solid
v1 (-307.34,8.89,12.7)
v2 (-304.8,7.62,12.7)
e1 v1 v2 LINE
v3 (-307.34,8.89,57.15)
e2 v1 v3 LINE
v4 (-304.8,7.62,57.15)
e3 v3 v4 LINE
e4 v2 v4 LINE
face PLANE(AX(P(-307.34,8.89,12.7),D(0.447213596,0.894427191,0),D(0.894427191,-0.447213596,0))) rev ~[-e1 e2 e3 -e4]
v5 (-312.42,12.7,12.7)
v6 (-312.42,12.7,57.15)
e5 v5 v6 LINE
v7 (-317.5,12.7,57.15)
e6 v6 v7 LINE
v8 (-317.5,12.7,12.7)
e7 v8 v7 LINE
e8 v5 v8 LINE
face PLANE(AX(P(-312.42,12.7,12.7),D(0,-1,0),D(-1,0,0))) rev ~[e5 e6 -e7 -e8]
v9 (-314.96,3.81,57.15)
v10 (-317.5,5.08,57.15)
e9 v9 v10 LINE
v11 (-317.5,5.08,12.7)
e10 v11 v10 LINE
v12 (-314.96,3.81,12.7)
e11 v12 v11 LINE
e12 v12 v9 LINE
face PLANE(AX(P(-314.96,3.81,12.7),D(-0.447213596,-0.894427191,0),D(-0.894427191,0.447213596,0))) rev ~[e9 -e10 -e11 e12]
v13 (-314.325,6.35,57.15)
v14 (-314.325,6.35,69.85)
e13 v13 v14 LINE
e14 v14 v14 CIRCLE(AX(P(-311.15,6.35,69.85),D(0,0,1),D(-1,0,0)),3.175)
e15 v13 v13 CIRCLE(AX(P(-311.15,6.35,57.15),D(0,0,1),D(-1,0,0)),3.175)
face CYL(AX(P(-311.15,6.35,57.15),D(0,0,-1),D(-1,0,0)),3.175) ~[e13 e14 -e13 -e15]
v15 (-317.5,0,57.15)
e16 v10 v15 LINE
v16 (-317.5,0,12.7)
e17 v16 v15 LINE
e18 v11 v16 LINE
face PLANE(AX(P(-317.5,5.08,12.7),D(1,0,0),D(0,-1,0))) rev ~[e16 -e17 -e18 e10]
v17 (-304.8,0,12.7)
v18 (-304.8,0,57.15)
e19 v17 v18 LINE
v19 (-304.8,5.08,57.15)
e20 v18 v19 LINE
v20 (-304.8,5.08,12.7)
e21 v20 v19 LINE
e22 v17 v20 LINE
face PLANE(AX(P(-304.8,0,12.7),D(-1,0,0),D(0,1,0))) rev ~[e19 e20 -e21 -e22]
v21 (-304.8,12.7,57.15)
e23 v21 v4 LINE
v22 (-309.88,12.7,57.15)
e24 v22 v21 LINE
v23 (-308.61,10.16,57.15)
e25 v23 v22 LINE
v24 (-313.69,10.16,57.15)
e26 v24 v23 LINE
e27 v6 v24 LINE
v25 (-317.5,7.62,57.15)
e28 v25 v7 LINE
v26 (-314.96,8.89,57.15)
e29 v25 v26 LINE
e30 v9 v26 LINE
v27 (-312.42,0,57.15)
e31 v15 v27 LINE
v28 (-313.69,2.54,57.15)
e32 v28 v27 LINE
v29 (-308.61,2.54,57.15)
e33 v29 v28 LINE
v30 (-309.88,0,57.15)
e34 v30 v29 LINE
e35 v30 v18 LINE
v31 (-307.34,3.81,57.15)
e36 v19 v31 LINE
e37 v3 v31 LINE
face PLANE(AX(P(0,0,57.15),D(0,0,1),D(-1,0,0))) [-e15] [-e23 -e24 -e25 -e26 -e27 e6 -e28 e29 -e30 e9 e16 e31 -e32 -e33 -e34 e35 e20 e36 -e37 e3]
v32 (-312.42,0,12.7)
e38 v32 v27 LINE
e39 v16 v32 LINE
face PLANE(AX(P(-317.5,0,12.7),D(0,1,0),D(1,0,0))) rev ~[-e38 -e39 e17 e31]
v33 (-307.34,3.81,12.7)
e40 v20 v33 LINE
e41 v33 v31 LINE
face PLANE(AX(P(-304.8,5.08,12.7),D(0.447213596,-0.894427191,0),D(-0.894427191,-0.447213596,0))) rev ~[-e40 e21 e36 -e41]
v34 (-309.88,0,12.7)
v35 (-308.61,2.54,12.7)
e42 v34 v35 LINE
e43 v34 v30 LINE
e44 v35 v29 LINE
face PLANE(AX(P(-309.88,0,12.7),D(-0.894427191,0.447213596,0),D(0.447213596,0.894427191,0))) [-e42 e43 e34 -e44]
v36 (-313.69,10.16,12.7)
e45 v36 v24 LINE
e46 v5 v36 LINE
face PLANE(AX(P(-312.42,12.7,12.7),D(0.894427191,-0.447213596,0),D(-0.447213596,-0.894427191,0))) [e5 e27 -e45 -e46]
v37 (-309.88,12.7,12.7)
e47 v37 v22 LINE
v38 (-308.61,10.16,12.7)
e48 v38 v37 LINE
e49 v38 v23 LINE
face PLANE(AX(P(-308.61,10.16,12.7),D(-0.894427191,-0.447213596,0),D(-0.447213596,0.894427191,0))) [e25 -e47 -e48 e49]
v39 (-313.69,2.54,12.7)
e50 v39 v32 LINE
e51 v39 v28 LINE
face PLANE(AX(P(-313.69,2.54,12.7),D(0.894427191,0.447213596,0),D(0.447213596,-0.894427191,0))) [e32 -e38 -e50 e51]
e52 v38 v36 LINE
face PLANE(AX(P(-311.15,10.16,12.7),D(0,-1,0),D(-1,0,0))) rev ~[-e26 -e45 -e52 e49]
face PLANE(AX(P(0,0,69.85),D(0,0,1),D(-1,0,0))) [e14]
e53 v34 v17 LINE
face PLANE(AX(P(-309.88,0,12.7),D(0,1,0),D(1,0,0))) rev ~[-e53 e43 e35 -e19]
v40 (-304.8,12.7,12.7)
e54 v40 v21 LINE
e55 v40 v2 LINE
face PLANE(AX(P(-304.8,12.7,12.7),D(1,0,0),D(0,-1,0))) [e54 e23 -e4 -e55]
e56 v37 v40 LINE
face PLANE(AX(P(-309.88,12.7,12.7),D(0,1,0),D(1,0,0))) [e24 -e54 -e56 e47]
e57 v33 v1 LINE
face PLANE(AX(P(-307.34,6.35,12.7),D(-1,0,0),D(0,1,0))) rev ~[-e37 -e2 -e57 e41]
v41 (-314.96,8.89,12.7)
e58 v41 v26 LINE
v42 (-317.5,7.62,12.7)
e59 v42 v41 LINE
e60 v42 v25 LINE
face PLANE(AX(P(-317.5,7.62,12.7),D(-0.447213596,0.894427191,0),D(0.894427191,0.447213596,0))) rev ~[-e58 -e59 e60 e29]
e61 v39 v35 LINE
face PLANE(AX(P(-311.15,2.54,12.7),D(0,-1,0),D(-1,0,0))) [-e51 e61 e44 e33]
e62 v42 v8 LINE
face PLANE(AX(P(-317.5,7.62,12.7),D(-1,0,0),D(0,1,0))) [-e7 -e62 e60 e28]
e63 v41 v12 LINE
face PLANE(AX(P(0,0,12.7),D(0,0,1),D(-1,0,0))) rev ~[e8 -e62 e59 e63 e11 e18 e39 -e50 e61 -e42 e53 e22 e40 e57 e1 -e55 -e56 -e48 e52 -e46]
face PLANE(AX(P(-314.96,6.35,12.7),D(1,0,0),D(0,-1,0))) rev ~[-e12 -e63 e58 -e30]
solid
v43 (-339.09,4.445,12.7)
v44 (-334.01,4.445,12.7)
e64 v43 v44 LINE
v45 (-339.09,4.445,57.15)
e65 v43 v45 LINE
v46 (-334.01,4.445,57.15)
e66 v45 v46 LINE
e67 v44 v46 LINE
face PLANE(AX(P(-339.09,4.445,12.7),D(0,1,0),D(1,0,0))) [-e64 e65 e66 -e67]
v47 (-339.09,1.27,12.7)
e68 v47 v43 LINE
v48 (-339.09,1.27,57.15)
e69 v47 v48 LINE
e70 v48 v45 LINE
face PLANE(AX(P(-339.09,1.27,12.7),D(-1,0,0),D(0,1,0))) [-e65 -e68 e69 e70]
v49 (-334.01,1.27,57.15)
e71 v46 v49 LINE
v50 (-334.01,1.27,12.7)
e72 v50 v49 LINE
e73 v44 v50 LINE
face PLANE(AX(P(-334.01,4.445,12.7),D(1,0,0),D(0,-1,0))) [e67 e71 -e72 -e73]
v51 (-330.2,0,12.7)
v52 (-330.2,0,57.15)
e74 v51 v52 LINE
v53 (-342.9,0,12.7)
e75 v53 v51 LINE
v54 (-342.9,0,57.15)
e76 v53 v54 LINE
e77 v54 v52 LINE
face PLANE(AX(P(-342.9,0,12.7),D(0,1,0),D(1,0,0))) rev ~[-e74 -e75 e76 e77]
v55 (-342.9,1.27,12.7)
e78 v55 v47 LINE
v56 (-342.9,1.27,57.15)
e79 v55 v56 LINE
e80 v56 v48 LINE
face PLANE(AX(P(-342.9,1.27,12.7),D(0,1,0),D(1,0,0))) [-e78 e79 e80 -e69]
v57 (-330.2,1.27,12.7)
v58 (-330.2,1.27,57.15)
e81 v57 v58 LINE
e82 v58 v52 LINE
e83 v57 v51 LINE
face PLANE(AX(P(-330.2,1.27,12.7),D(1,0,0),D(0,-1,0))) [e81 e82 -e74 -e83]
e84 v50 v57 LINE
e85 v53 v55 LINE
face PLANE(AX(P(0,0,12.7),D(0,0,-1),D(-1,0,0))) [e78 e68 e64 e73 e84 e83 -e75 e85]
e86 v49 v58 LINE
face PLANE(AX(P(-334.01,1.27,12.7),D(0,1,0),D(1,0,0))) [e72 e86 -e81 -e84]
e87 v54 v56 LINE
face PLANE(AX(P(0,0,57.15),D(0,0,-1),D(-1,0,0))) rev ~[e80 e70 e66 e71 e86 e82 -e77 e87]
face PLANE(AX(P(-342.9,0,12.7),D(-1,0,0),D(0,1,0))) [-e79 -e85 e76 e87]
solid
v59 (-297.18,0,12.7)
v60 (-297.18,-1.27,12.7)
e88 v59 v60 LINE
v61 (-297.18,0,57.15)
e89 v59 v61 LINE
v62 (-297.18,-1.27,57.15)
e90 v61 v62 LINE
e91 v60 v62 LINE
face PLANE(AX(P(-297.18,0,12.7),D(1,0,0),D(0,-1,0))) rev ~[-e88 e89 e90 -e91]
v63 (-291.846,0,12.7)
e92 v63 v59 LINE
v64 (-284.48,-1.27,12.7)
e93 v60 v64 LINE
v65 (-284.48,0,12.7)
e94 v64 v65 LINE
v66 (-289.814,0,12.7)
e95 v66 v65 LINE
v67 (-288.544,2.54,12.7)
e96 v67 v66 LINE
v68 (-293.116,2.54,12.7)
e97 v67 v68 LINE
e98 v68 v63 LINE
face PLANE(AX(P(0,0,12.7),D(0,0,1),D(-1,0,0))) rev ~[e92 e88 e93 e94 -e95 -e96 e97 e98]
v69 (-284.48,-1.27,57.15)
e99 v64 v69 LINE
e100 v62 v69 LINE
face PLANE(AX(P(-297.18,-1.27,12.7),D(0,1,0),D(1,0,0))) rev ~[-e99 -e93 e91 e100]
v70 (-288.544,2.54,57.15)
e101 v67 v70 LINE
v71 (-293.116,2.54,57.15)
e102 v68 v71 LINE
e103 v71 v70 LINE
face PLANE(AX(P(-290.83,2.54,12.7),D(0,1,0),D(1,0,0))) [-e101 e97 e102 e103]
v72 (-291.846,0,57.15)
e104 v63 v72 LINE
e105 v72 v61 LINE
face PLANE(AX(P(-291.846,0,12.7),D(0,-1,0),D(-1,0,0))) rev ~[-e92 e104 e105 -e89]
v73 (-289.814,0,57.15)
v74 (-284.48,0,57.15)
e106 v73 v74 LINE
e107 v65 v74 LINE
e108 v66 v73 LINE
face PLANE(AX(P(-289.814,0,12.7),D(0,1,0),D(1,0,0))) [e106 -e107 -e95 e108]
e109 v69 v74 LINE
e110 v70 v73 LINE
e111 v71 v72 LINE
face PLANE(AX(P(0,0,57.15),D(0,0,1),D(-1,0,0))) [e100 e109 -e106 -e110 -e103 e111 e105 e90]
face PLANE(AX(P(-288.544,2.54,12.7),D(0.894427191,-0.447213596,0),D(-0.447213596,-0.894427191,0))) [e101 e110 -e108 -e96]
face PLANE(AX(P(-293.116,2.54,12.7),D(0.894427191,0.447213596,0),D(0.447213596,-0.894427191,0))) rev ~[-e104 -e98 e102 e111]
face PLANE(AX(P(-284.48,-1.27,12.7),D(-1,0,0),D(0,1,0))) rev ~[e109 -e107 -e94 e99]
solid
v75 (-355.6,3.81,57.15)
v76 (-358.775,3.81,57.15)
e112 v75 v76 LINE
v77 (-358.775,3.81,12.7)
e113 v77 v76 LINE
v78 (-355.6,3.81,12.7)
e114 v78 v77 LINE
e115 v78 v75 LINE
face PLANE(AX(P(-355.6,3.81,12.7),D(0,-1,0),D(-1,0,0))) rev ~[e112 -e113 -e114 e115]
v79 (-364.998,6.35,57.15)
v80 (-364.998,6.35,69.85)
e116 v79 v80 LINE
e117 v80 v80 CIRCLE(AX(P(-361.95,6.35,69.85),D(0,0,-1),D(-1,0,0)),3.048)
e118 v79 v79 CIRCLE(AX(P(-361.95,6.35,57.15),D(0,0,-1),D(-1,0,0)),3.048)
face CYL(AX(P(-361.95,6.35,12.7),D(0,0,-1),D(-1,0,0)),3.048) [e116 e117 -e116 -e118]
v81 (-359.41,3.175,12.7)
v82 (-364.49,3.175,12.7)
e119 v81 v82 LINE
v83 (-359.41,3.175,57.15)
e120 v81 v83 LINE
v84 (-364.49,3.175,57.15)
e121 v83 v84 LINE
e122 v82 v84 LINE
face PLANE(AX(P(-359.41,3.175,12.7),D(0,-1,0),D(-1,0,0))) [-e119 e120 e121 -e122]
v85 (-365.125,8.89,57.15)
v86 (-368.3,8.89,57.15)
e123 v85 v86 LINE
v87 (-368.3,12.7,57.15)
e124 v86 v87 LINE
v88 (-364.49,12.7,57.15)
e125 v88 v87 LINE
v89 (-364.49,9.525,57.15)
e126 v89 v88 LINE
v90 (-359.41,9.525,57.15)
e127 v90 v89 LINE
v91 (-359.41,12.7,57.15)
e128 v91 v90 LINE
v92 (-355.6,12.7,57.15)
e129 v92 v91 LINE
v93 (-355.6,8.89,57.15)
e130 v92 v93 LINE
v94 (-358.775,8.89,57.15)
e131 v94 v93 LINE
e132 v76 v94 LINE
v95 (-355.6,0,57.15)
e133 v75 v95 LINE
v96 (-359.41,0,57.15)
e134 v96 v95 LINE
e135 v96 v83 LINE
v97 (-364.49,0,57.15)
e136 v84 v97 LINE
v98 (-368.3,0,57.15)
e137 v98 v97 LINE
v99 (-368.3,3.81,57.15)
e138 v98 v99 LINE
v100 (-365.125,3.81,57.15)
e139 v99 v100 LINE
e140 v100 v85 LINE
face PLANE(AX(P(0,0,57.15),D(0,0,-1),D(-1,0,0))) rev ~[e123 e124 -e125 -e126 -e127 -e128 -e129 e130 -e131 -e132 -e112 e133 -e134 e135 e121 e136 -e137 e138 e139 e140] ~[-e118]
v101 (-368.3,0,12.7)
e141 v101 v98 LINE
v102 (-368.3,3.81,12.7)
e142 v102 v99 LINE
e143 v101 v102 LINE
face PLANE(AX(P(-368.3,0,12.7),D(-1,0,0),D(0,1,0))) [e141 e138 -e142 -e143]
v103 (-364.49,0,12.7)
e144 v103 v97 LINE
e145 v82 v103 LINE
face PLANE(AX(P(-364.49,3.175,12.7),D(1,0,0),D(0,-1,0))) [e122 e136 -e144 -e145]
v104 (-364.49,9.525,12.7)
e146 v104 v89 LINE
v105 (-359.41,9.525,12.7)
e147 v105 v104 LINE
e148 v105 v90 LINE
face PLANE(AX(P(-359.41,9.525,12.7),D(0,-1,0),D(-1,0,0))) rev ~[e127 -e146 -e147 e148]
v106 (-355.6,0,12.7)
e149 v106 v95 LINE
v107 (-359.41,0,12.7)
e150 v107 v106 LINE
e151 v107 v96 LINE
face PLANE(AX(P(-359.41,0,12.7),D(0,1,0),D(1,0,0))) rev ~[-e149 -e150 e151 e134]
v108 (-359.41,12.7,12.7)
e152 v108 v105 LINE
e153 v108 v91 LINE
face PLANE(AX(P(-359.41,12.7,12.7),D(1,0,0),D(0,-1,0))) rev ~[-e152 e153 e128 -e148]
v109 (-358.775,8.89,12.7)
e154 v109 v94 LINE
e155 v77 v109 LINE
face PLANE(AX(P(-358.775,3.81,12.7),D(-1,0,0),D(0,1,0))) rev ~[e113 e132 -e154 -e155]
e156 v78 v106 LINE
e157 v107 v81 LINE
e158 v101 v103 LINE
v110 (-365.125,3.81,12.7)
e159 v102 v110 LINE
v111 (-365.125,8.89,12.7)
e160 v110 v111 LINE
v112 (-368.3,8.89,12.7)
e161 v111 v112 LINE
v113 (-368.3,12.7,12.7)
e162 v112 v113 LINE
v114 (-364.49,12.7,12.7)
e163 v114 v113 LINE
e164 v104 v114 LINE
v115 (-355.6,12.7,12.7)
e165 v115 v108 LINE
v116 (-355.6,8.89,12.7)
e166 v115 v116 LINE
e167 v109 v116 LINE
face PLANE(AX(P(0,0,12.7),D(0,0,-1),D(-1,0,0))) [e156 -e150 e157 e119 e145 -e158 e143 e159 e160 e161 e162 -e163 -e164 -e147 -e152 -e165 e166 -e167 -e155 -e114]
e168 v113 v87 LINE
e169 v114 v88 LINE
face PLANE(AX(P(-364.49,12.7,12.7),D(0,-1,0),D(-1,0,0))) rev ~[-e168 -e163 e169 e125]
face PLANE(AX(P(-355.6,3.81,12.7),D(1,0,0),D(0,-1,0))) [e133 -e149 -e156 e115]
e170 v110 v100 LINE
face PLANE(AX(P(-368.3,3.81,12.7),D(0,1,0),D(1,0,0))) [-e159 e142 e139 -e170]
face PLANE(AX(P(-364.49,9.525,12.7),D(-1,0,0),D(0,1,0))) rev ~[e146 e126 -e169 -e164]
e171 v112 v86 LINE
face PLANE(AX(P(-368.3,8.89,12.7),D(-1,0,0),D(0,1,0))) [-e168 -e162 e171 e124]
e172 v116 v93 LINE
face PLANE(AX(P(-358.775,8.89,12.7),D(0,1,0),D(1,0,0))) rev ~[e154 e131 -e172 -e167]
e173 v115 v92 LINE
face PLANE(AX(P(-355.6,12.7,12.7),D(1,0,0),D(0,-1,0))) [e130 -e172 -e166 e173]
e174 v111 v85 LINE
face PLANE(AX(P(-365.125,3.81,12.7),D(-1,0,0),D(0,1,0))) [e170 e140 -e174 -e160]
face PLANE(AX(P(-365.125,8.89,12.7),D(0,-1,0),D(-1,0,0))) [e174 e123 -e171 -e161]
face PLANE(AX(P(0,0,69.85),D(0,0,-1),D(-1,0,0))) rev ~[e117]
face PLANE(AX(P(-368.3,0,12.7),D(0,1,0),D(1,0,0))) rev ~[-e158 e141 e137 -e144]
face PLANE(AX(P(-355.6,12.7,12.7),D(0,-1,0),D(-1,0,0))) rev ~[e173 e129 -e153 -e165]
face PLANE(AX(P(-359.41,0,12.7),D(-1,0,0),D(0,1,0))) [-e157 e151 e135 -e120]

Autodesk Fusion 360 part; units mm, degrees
sketch "Sketch1" plane through (0, 0, 0) normal (0, 0, 1) x (1, 0, 0)
  line L0 (0, 0) -> (1440, 0)
  line L1 (1440, 0) -> (1440, 1440)
  line L2 (1440, 1440) -> (0, 1440)
  line L3 (0, 1440) -> (0, 0)
  line L4 (720, 1620) -> (720, -180)
  line L5 (0, 0) -> (180, 0)
  line L6 (180, 0) -> (180, 180)
  line L7 (180, 180) -> (0, 180)
  line L8 (0, 180) -> (0, 0)
  line L9 (0, 0) -> (0, -100)
  line L10 (0, -100) -> (-100, -100)
  line L11 (1440, 1440) -> (1540, 1440)
  line L12 (1540, 1440) -> (1540, 1540)
  dimension "d1" = 1440
  dimension "d2" = 1440
  dimension "d7" = 180
  dimension "d8" = 180
  dimension "d9" = 100
  dimension "d10" = 100
  dimension "d11" = 100
  dimension "d12" = 100
extrude "Extrude1" add sketch "Sketch1" along normal blind 12.7 makes body 1
sketch "Sketch2" plane through (0, 0, 12.7) normal (0, 0, 1) x (-1, 0, 0)
  line L0 (0, -1440) -> (0, 0)
  line L1 (0, 0) -> (-1440, 0)
  line L2 (-1440, 0) -> (-1440, -1440)
  line L3 (-1440, -1440) -> (0, -1440)
  line L4 (0, 0) -> (-180, 0)
  line L5 (-180, 0) -> (-360, 0)
  line L6 (-360, 0) -> (-540, 0)
  line L7 (-540, 0) -> (-720, 0)
  line L8 (-720, 0) -> (-720, -1440)
  line L9 (-180, 0) -> (-180, -1440)
  line L10 (-360, 0) -> (-360, -1440)
  line L11 (-540, 0) -> (-540, -1440)
  dimension "d15" = 180
  dimension "d16" = 180
  dimension "d17" = 180
  dimension "d18" = 180
sketch "Sketch3" plane through (0, 0, 12.7) normal (0, 0, 1) x (-1, 0, 0)
sketch "Sketch4" plane through (0, 0, 12.7) normal (0, 0, 1) x (-1, 0, 0)
  line L0 (0, 0) -> (-1440, 0)
  line L1 (-1440, 0) -> (-1440, -1440)
  line L2 (-1440, -1440) -> (0, -1440)
  line L3 (0, -1440) -> (0, 0)
  line L4 (-720, 0) -> (-810, 0)
  line L5 (-810, 0) -> (-900, 0)
  line L6 (-900, 0) -> (-1080, 0)
  line L7 (-1080, 0) -> (-1260, 0)
  line L8 (0, 0) -> (0, -180)
  line L9 (0, -180) -> (0, -360)
  line L10 (0, -360) -> (0, -540)
  line L11 (0, -540) -> (0, -720)
  line L12 (0, -720) -> (0, -900)
  line L13 (0, -900) -> (0, -1080)
  line L14 (0, -1080) -> (0, -1260)
  line L15 (-1080, 0) -> (-1260, 0)
  line L16 (0, -180) -> (0, -360)
  line L17 (-720, 0) -> (-810, 0)
  line L18 (0, -1440) -> (0, 0)
  line L19 (0, -1080) -> (0, -1260)
  line L20 (-810, 0) -> (-900, 0)
  line L21 (0, -900) -> (0, -1080)
  line L22 (0, -540) -> (0, -720)
  line L23 (-900, 0) -> (-1080, 0)
  line L24 (0, 0) -> (-1440, 0)
  line L25 (0, 0) -> (0, -180)
  line L26 (-1440, -1440) -> (0, -1440)
  line L27 (0, -720) -> (0, -900)
  line L28 (-1440, 0) -> (-1440, -1440)
  line L29 (0, -360) -> (0, -540)
  line L30 (-1080, 0) -> (-1260, 0)
  line L31 (0, -180) -> (0, -360)
  line L32 (-720, 0) -> (-810, 0)
  line L33 (0, -1440) -> (0, 0)
  line L34 (0, -1080) -> (0, -1260)
  line L35 (-810, 0) -> (-900, 0)
  line L36 (0, -900) -> (0, -1080)
  line L37 (0, -540) -> (0, -720)
  line L38 (-900, 0) -> (-1080, 0)
  line L39 (0, 0) -> (-1440, 0)
  line L40 (0, 0) -> (0, -180)
  line L41 (-1440, -1440) -> (0, -1440)
  line L42 (0, -720) -> (0, -900)
  line L43 (-1440, 0) -> (-1440, -1440)
  line L44 (0, -360) -> (0, -540)
  line L45 (0, -1440) -> (-180, -1440)
  line L46 (-180, -1440) -> (-360, -1440)
  line L47 (-360, -1440) -> (-540, -1440)
  line L48 (-540, -1440) -> (-720, -1440)
  line L49 (90, -1530) -> (-1530, -1530)
  line L50 (-1530, -1530) -> (-1530, 90)
  line L51 (-1530, 90) -> (90, 90)
  line L52 (90, 90) -> (90, -1530)
  line L53 (-720, -1440) -> (-900, -1440)
  line L54 (-1440, -720) -> (-1440, -900)
  line L55 (0, -720) -> (0, -810)
  line L56 (90, 90) -> (-824.4, 90)
  line L57 (-824.4, 90) -> (-824.4, -1530)
  line L58 (-824.4, 90) -> (-1510.2, 90)
  line L59 (90, 90) -> (90, -824.4)
  line L60 (90, -824.4) -> (-1530, -824.4)
  line L61 (2170.8056, -49.2636) -> (951.6056, -49.2636)
  line L62 (951.6056, -49.2636) -> (951.6056, -2487.6636)
  line L63 (951.6056, -2487.6636) -> (2170.8056, -2487.6636)
  line L64 (2170.8056, -2487.6636) -> (2170.8056, -49.2636)
  line L65 (2170.8056, -49.2636) -> (1256.4056, -49.2636)
  line L66 (1256.4056, -49.2636) -> (1256.4056, -963.6636)
  line L67 (1256.4056, -963.6636) -> (2170.8056, -963.6636)
  line L68 (2170.8056, -963.6636) -> (2170.8056, -49.2636)
  line L69 (2170.8056, -963.6636) -> (1256.4056, -963.6636)
  line L70 (1256.4056, -963.6636) -> (1256.4056, -1674.8636)
  line L71 (1256.4056, -1674.8636) -> (2170.8056, -1674.8636)
  line L72 (2170.8056, -1674.8636) -> (2170.8056, -963.6636)
  line L73 (2170.8056, -1674.8636) -> (1256.4056, -1674.8636)
  line L74 (1256.4056, -1674.8636) -> (1256.4056, -2386.0636)
  line L75 (1256.4056, -2386.0636) -> (2170.8056, -2386.0636)
  line L76 (2170.8056, -2386.0636) -> (2170.8056, -1674.8636)
  line L77 (3790.0355, -49.382) -> (2570.8355, -49.382)
  line L78 (2570.8355, -49.382) -> (2570.8355, -2487.782)
  line L79 (2570.8355, -2487.782) -> (3790.0355, -2487.782)
  line L80 (3790.0355, -2487.782) -> (3790.0355, -49.382)
  line L81 (3790.0355, -49.382) -> (3078.8355, -49.382)
  line L82 (3078.8355, -49.382) -> (3078.8355, -760.582)
  line L83 (3078.8355, -760.582) -> (3790.0355, -760.582)
  line L84 (3790.0355, -760.582) -> (3790.0355, -49.382)
  line L85 (1256.4056, -2386.0636) -> (1256.4056, -2487.6636)
  line L86 (3078.8355, -760.582) -> (2570.8355, -760.582)
  point P0 (0, -1440)
  point P1 (-180, -1440)
  point P2 (-360, -1440)
  point P3 (0, -1260)
  point P4 (0, -1080)
  point P5 (0, -900)
  point P6 (0, -720)
  point P7 (0, -540)
  point P8 (0, -360)
  point P9 (0, -180)
  point P10 (-180, -1260)
  point P11 (-180, -1080)
  point P12 (-180, -900)
  point P13 (-180, -720)
  point P14 (-180, -540)
  point P15 (-180, -360)
  point P16 (-180, -180)
  point P17 (-180, 0)
  point P18 (-360, -1260)
  point P19 (-360, -1080)
  point P20 (-360, -900)
  point P21 (-360, -720)
  point P22 (-360, -540)
  point P23 (-360, -360)
  point P24 (-360, -180)
  point P25 (-360, 0)
  point P26 (-540, -1440)
  point P27 (-540, -1260)
  point P28 (-540, -1080)
  point P29 (-540, -900)
  point P30 (-540, -720)
  point P31 (-540, -540)
  point P32 (-540, -360)
  point P33 (-540, -180)
  point P34 (-540, 0)
  point P35 (-720, -1440)
  point P36 (-720, -1260)
  point P37 (-720, -1080)
  point P38 (-720, -900)
  point P39 (-720, -720)
  point P40 (-720, -540)
  point P41 (-720, -360)
  point P42 (-720, -180)
  point P43 (-720, 0)
  point P44 (-900, -1440)
  point P45 (-900, -1260)
  point P46 (-900, -1080)
  point P47 (-900, -900)
  point P48 (-900, -720)
  point P49 (-900, -540)
  point P50 (-900, -360)
  point P51 (-900, -180)
  point P52 (-900, 0)
  point P53 (-1080, -1440)
  point P54 (-1080, -1260)
  point P55 (-1080, -1080)
  point P56 (-1080, -900)
  point P57 (-1080, -720)
  point P58 (-1080, -540)
  point P59 (-1080, -360)
  point P60 (-1080, -180)
  point P61 (-1080, 0)
  point P62 (-1260, -1440)
  point P63 (-1260, -1260)
  point P64 (-1260, -1080)
  point P65 (-1260, -900)
  point P66 (-1260, -720)
  point P67 (-1260, -540)
  point P68 (-1260, -360)
  point P69 (-1260, -180)
  point P70 (-1260, 0)
  point P71 (-1440, -1440)
  point P72 (-1440, -1260)
  point P73 (-1440, -1080)
  point P74 (-1440, -900)
  point P75 (-1440, -720)
  point P76 (-1440, -540)
  point P77 (-1440, -360)
  point P78 (-1440, -180)
  point P79 (-1440, 0)
  dimension "d62" = 1440
  dimension "d63" = 1440
  dimension "d86" = 914.4
  dimension "d90" = 914.4
  dimension "d92" = 1219.2
  dimension "d93" = 2438.4
  dimension "d94" = 914.4
  dimension "d95" = 914.4
  dimension "d96" = 914.4
  dimension "d97" = 711.2
  dimension "d98" = 914.4
  dimension "d99" = 711.2
  dimension "d100" = 1219.2
  dimension "d101" = 2438.4
  dimension "d102" = 711.2
  dimension "d103" = 711.2
  dimension "d105" = 180
  dimension "d106" = 180
  dimension "d107" = 1440
  dimension "d108" = 705.6
  dimension "d109" = 705.6
sketch "Sketch6" plane through (0, 0, 12.7) normal (0, 0, 1) x (-1, 0, 0)
  line L0 (311.15, 0) -> (311.15, -2.54) construction
  line L1 (311.15, -2.54) -> (308.61, -2.54)
  line L2 (311.15, -2.54) -> (313.69, -2.54)
  line L3 (311.15, 0) -> (312.42, 0) construction
  line L4 (311.15, 0) -> (309.88, 0) construction
  line L5 (313.69, -2.54) -> (312.42, 0)
  line L6 (309.88, 0) -> (308.61, -2.54)
  line L7 (317.5, 0) -> (312.42, 0)
  line L8 (309.88, 0) -> (304.8, 0)
  line L9 (317.5, -6.35) -> (314.96, -6.35) construction
  line L10 (314.96, -6.35) -> (314.96, -8.89)
  line L11 (314.96, -6.35) -> (314.96, -3.81)
  line L12 (317.5, -6.35) -> (317.5, -7.62) construction
  line L13 (317.5, -6.35) -> (317.5, -5.08) construction
  line L14 (314.96, -3.81) -> (317.5, -5.08)
  line L15 (317.5, -7.62) -> (314.96, -8.89)
  line L16 (317.5, -7.62) -> (317.5, -12.7)
  line L17 (317.5, -5.08) -> (317.5, 0)
  line L18 (307.34, -6.35) -> (307.34, -8.89)
  line L19 (308.61, -10.16) -> (309.88, -12.7)
  line L20 (311.15, -10.16) -> (313.69, -10.16)
  line L21 (304.8, -6.35) -> (304.8, -5.08) construction
  line L22 (311.15, -12.7) -> (309.88, -12.7) construction
  line L23 (311.15, -10.16) -> (308.61, -10.16)
  line L24 (304.8, -6.35) -> (304.8, -7.62) construction
  line L25 (307.34, -6.35) -> (307.34, -3.81)
  line L26 (304.8, -6.35) -> (307.34, -6.35) construction
  line L27 (309.88, -12.7) -> (304.8, -12.7)
  line L28 (311.15, -12.7) -> (311.15, -10.16) construction
  line L29 (304.8, -5.08) -> (307.34, -3.81)
  line L30 (304.8, -12.7) -> (304.8, -7.62)
  line L31 (307.34, -8.89) -> (304.8, -7.62)
  line L32 (311.15, -12.7) -> (312.42, -12.7) construction
  line L33 (312.42, -12.7) -> (317.5, -12.7)
  line L34 (312.42, -12.7) -> (313.69, -10.16)
  line L35 (304.8, 0) -> (304.8, -5.08)
  line L36 (290.83, 0) -> (290.83, -2.54) construction
  line L37 (290.83, -2.54) -> (293.116, -2.54)
  line L38 (293.116, -2.54) -> (291.846, 0)
  line L39 (290.83, -2.54) -> (288.544, -2.54)
  line L40 (288.544, -2.54) -> (289.814, 0)
  line L41 (291.846, 0) -> (289.814, 0) construction
  line L42 (291.846, 0) -> (297.18, 0)
  line L43 (289.814, 0) -> (284.48, 0)
  line L44 (297.18, 0) -> (297.18, 1.27)
  line L45 (297.18, 1.27) -> (284.48, 1.27)
  line L46 (284.48, 1.27) -> (284.48, 0)
  dimension "d111" = 12.7
  dimension "d114" = 2.54
  dimension "d115" = 2.54
  dimension "d116" = 2.54
  dimension "d117" = 1.27
  dimension "d118" = 1.27
  dimension "d119" = 2.54
  dimension "d120" = 2.54
  dimension "d121" = 2.54
  dimension "d122" = 1.27
  dimension "d123" = 1.27
  dimension "d128" = 2.54
  dimension "d129" = 2.286
  dimension "d130" = 2.286
  dimension "d131" = 5.334
  dimension "d132" = 5.334
  dimension "d133" = 1.27
  dimension "d134" = 12.7
extrude "Extrude2" add sketch "Sketch6" along normal blind 44.45 separate body makes body 2 at (-292.9467, -1.27, 27.5167) makes body 3 at (-310.3033, 2.54, 42.3333)
sketch "Sketch7" plane through (0, 0, 57.15) normal (0, 0, 1) x (-1, 0, 0)
  line L0 (309.88, 0) -> (304.8, 0)
  line L1 (304.8, 0) -> (304.8, -5.08)
  line L2 (304.8, -5.08) -> (307.34, -3.81)
  line L3 (307.34, -3.81) -> (307.34, -8.89)
  line L4 (307.34, -8.89) -> (304.8, -7.62)
  line L5 (304.8, -7.62) -> (304.8, -12.7)
  line L6 (304.8, -12.7) -> (309.88, -12.7)
  line L7 (309.88, -12.7) -> (308.61, -10.16)
  line L8 (308.61, -10.16) -> (313.69, -10.16)
  line L9 (313.69, -10.16) -> (312.42, -12.7)
  line L10 (312.42, -12.7) -> (317.5, -12.7)
  line L11 (317.5, -12.7) -> (317.5, -7.62)
  line L12 (317.5, -7.62) -> (314.96, -8.89)
  line L13 (314.96, -8.89) -> (314.96, -3.81)
  line L14 (314.96, -3.81) -> (317.5, -5.08)
  line L15 (317.5, -5.08) -> (317.5, 0)
  line L16 (317.5, 0) -> (312.42, 0)
  line L17 (312.42, 0) -> (313.69, -2.54)
  line L18 (313.69, -2.54) -> (308.61, -2.54)
  line L19 (308.61, -2.54) -> (309.88, 0)
  line L20 (311.15, -10.16) -> (311.15, -2.54) construction
  line L21 (307.34, -6.35) -> (314.96, -6.35) construction
  circle A0 centre (311.15, -6.35) radius 3.175
  dimension "d137" = 6.35
extrude "Extrude3" add sketch "Sketch7" along normal blind 12.7 contours A0 bodies 3
ref_plane "WorkPlane1" through (-311.15, 6.35, 12.7) normal (0, 0, -1) x (1, 0, 0)
sketch "Sketch8" plane through (0, 0, 12.7) normal (0, 0, -1) x (-1, 0, 0)
  line L0 (355.6, 0) -> (368.3, 12.7) construction
  line L1 (368.3, 0) -> (355.6, 12.7) construction
  circle A0 centre (361.95, 6.35) radius 3.048
  line L2 (361.95, 0) -> (364.49, 0) construction
  line L3 (359.41, 0) -> (359.41, 3.175)
  line L4 (359.41, 3.175) -> (364.49, 3.175)
  line L5 (364.49, 3.175) -> (364.49, 0)
  line L6 (368.3, 6.35) -> (368.3, 3.81) construction
  line L7 (368.3, 3.81) -> (365.125, 3.81)
  line L8 (365.125, 3.81) -> (365.125, 8.89)
  line L9 (365.125, 8.89) -> (368.3, 8.89)
  line L10 (368.3, 0) -> (368.3, 3.81)
  line L11 (368.3, 0) -> (364.49, 0)
  line L12 (359.41, 0) -> (355.6, 0)
  line L13 (368.3, 8.89) -> (368.3, 12.7)
  line L14 (359.41, 12.7) -> (359.41, 9.525)
  line L15 (364.49, 12.7) -> (368.3, 12.7)
  line L16 (355.6, 12.7) -> (359.41, 12.7)
  line L17 (355.6, 12.7) -> (355.6, 8.89)
  line L18 (364.49, 9.525) -> (364.49, 12.7)
  circle A1 centre (361.95, 6.35) radius 3.048
  line L19 (359.41, 9.525) -> (364.49, 9.525)
  line L20 (358.775, 8.89) -> (355.6, 8.89)
  line L21 (355.6, 3.81) -> (358.775, 3.81)
  line L22 (355.6, 12.7) -> (368.3, 0) construction
  line L23 (355.6, 6.35) -> (355.6, 8.89) construction
  line L24 (361.95, 12.7) -> (359.41, 12.7) construction
  line L25 (358.775, 3.81) -> (358.775, 8.89)
  line L26 (355.6, 0) -> (368.3, 12.7) construction
  line L27 (355.6, 3.81) -> (355.6, 0)
  point P0 (361.95, 6.35)
  point P1 (361.95, 6.35)
  dimension "d142" = 12.7
  dimension "d143" = 12.7
  dimension "d144" = 6.096
  dimension "d147" = 5.08
  dimension "d148" = 3.175
  dimension "d150" = 3.175
  dimension "d151" = 5.08
extrude "Extrude4" add sketch "Sketch8" against normal blind 57.15 separate body contours A0 A1 makes body 4
extrude "Extrude5" add sketch "Sketch8" against normal blind 44.45 bodies 4
sketch "Sketch9" plane through (0, 0, 12.7) normal (0, 0, -1) x (-1, 0, 0)
  line L0 (342.9, 0) -> (330.2, 0)
  line L1 (342.9, 0) -> (342.9, 1.27)
  line L2 (342.9, 1.27) -> (339.09, 1.27)
  line L3 (339.09, 1.27) -> (339.09, 4.445)
  line L4 (339.09, 4.445) -> (334.01, 4.445)
  line L5 (334.01, 4.445) -> (334.01, 1.27)
  line L6 (334.01, 1.27) -> (330.2, 1.27)
  line L7 (330.2, 1.27) -> (330.2, 0)
  dimension "d156" = 12.7
  dimension "d157" = 1.27
  dimension "d158" = 3.81
  dimension "d160" = 5.08
  dimension "d161" = 3.175
extrude "Extrude6" add sketch "Sketch9" against normal blind 44.45 separate body makes body 5
hidden bodies 1
equation "d111 = ( 1 / 2 ) * 1 in"
